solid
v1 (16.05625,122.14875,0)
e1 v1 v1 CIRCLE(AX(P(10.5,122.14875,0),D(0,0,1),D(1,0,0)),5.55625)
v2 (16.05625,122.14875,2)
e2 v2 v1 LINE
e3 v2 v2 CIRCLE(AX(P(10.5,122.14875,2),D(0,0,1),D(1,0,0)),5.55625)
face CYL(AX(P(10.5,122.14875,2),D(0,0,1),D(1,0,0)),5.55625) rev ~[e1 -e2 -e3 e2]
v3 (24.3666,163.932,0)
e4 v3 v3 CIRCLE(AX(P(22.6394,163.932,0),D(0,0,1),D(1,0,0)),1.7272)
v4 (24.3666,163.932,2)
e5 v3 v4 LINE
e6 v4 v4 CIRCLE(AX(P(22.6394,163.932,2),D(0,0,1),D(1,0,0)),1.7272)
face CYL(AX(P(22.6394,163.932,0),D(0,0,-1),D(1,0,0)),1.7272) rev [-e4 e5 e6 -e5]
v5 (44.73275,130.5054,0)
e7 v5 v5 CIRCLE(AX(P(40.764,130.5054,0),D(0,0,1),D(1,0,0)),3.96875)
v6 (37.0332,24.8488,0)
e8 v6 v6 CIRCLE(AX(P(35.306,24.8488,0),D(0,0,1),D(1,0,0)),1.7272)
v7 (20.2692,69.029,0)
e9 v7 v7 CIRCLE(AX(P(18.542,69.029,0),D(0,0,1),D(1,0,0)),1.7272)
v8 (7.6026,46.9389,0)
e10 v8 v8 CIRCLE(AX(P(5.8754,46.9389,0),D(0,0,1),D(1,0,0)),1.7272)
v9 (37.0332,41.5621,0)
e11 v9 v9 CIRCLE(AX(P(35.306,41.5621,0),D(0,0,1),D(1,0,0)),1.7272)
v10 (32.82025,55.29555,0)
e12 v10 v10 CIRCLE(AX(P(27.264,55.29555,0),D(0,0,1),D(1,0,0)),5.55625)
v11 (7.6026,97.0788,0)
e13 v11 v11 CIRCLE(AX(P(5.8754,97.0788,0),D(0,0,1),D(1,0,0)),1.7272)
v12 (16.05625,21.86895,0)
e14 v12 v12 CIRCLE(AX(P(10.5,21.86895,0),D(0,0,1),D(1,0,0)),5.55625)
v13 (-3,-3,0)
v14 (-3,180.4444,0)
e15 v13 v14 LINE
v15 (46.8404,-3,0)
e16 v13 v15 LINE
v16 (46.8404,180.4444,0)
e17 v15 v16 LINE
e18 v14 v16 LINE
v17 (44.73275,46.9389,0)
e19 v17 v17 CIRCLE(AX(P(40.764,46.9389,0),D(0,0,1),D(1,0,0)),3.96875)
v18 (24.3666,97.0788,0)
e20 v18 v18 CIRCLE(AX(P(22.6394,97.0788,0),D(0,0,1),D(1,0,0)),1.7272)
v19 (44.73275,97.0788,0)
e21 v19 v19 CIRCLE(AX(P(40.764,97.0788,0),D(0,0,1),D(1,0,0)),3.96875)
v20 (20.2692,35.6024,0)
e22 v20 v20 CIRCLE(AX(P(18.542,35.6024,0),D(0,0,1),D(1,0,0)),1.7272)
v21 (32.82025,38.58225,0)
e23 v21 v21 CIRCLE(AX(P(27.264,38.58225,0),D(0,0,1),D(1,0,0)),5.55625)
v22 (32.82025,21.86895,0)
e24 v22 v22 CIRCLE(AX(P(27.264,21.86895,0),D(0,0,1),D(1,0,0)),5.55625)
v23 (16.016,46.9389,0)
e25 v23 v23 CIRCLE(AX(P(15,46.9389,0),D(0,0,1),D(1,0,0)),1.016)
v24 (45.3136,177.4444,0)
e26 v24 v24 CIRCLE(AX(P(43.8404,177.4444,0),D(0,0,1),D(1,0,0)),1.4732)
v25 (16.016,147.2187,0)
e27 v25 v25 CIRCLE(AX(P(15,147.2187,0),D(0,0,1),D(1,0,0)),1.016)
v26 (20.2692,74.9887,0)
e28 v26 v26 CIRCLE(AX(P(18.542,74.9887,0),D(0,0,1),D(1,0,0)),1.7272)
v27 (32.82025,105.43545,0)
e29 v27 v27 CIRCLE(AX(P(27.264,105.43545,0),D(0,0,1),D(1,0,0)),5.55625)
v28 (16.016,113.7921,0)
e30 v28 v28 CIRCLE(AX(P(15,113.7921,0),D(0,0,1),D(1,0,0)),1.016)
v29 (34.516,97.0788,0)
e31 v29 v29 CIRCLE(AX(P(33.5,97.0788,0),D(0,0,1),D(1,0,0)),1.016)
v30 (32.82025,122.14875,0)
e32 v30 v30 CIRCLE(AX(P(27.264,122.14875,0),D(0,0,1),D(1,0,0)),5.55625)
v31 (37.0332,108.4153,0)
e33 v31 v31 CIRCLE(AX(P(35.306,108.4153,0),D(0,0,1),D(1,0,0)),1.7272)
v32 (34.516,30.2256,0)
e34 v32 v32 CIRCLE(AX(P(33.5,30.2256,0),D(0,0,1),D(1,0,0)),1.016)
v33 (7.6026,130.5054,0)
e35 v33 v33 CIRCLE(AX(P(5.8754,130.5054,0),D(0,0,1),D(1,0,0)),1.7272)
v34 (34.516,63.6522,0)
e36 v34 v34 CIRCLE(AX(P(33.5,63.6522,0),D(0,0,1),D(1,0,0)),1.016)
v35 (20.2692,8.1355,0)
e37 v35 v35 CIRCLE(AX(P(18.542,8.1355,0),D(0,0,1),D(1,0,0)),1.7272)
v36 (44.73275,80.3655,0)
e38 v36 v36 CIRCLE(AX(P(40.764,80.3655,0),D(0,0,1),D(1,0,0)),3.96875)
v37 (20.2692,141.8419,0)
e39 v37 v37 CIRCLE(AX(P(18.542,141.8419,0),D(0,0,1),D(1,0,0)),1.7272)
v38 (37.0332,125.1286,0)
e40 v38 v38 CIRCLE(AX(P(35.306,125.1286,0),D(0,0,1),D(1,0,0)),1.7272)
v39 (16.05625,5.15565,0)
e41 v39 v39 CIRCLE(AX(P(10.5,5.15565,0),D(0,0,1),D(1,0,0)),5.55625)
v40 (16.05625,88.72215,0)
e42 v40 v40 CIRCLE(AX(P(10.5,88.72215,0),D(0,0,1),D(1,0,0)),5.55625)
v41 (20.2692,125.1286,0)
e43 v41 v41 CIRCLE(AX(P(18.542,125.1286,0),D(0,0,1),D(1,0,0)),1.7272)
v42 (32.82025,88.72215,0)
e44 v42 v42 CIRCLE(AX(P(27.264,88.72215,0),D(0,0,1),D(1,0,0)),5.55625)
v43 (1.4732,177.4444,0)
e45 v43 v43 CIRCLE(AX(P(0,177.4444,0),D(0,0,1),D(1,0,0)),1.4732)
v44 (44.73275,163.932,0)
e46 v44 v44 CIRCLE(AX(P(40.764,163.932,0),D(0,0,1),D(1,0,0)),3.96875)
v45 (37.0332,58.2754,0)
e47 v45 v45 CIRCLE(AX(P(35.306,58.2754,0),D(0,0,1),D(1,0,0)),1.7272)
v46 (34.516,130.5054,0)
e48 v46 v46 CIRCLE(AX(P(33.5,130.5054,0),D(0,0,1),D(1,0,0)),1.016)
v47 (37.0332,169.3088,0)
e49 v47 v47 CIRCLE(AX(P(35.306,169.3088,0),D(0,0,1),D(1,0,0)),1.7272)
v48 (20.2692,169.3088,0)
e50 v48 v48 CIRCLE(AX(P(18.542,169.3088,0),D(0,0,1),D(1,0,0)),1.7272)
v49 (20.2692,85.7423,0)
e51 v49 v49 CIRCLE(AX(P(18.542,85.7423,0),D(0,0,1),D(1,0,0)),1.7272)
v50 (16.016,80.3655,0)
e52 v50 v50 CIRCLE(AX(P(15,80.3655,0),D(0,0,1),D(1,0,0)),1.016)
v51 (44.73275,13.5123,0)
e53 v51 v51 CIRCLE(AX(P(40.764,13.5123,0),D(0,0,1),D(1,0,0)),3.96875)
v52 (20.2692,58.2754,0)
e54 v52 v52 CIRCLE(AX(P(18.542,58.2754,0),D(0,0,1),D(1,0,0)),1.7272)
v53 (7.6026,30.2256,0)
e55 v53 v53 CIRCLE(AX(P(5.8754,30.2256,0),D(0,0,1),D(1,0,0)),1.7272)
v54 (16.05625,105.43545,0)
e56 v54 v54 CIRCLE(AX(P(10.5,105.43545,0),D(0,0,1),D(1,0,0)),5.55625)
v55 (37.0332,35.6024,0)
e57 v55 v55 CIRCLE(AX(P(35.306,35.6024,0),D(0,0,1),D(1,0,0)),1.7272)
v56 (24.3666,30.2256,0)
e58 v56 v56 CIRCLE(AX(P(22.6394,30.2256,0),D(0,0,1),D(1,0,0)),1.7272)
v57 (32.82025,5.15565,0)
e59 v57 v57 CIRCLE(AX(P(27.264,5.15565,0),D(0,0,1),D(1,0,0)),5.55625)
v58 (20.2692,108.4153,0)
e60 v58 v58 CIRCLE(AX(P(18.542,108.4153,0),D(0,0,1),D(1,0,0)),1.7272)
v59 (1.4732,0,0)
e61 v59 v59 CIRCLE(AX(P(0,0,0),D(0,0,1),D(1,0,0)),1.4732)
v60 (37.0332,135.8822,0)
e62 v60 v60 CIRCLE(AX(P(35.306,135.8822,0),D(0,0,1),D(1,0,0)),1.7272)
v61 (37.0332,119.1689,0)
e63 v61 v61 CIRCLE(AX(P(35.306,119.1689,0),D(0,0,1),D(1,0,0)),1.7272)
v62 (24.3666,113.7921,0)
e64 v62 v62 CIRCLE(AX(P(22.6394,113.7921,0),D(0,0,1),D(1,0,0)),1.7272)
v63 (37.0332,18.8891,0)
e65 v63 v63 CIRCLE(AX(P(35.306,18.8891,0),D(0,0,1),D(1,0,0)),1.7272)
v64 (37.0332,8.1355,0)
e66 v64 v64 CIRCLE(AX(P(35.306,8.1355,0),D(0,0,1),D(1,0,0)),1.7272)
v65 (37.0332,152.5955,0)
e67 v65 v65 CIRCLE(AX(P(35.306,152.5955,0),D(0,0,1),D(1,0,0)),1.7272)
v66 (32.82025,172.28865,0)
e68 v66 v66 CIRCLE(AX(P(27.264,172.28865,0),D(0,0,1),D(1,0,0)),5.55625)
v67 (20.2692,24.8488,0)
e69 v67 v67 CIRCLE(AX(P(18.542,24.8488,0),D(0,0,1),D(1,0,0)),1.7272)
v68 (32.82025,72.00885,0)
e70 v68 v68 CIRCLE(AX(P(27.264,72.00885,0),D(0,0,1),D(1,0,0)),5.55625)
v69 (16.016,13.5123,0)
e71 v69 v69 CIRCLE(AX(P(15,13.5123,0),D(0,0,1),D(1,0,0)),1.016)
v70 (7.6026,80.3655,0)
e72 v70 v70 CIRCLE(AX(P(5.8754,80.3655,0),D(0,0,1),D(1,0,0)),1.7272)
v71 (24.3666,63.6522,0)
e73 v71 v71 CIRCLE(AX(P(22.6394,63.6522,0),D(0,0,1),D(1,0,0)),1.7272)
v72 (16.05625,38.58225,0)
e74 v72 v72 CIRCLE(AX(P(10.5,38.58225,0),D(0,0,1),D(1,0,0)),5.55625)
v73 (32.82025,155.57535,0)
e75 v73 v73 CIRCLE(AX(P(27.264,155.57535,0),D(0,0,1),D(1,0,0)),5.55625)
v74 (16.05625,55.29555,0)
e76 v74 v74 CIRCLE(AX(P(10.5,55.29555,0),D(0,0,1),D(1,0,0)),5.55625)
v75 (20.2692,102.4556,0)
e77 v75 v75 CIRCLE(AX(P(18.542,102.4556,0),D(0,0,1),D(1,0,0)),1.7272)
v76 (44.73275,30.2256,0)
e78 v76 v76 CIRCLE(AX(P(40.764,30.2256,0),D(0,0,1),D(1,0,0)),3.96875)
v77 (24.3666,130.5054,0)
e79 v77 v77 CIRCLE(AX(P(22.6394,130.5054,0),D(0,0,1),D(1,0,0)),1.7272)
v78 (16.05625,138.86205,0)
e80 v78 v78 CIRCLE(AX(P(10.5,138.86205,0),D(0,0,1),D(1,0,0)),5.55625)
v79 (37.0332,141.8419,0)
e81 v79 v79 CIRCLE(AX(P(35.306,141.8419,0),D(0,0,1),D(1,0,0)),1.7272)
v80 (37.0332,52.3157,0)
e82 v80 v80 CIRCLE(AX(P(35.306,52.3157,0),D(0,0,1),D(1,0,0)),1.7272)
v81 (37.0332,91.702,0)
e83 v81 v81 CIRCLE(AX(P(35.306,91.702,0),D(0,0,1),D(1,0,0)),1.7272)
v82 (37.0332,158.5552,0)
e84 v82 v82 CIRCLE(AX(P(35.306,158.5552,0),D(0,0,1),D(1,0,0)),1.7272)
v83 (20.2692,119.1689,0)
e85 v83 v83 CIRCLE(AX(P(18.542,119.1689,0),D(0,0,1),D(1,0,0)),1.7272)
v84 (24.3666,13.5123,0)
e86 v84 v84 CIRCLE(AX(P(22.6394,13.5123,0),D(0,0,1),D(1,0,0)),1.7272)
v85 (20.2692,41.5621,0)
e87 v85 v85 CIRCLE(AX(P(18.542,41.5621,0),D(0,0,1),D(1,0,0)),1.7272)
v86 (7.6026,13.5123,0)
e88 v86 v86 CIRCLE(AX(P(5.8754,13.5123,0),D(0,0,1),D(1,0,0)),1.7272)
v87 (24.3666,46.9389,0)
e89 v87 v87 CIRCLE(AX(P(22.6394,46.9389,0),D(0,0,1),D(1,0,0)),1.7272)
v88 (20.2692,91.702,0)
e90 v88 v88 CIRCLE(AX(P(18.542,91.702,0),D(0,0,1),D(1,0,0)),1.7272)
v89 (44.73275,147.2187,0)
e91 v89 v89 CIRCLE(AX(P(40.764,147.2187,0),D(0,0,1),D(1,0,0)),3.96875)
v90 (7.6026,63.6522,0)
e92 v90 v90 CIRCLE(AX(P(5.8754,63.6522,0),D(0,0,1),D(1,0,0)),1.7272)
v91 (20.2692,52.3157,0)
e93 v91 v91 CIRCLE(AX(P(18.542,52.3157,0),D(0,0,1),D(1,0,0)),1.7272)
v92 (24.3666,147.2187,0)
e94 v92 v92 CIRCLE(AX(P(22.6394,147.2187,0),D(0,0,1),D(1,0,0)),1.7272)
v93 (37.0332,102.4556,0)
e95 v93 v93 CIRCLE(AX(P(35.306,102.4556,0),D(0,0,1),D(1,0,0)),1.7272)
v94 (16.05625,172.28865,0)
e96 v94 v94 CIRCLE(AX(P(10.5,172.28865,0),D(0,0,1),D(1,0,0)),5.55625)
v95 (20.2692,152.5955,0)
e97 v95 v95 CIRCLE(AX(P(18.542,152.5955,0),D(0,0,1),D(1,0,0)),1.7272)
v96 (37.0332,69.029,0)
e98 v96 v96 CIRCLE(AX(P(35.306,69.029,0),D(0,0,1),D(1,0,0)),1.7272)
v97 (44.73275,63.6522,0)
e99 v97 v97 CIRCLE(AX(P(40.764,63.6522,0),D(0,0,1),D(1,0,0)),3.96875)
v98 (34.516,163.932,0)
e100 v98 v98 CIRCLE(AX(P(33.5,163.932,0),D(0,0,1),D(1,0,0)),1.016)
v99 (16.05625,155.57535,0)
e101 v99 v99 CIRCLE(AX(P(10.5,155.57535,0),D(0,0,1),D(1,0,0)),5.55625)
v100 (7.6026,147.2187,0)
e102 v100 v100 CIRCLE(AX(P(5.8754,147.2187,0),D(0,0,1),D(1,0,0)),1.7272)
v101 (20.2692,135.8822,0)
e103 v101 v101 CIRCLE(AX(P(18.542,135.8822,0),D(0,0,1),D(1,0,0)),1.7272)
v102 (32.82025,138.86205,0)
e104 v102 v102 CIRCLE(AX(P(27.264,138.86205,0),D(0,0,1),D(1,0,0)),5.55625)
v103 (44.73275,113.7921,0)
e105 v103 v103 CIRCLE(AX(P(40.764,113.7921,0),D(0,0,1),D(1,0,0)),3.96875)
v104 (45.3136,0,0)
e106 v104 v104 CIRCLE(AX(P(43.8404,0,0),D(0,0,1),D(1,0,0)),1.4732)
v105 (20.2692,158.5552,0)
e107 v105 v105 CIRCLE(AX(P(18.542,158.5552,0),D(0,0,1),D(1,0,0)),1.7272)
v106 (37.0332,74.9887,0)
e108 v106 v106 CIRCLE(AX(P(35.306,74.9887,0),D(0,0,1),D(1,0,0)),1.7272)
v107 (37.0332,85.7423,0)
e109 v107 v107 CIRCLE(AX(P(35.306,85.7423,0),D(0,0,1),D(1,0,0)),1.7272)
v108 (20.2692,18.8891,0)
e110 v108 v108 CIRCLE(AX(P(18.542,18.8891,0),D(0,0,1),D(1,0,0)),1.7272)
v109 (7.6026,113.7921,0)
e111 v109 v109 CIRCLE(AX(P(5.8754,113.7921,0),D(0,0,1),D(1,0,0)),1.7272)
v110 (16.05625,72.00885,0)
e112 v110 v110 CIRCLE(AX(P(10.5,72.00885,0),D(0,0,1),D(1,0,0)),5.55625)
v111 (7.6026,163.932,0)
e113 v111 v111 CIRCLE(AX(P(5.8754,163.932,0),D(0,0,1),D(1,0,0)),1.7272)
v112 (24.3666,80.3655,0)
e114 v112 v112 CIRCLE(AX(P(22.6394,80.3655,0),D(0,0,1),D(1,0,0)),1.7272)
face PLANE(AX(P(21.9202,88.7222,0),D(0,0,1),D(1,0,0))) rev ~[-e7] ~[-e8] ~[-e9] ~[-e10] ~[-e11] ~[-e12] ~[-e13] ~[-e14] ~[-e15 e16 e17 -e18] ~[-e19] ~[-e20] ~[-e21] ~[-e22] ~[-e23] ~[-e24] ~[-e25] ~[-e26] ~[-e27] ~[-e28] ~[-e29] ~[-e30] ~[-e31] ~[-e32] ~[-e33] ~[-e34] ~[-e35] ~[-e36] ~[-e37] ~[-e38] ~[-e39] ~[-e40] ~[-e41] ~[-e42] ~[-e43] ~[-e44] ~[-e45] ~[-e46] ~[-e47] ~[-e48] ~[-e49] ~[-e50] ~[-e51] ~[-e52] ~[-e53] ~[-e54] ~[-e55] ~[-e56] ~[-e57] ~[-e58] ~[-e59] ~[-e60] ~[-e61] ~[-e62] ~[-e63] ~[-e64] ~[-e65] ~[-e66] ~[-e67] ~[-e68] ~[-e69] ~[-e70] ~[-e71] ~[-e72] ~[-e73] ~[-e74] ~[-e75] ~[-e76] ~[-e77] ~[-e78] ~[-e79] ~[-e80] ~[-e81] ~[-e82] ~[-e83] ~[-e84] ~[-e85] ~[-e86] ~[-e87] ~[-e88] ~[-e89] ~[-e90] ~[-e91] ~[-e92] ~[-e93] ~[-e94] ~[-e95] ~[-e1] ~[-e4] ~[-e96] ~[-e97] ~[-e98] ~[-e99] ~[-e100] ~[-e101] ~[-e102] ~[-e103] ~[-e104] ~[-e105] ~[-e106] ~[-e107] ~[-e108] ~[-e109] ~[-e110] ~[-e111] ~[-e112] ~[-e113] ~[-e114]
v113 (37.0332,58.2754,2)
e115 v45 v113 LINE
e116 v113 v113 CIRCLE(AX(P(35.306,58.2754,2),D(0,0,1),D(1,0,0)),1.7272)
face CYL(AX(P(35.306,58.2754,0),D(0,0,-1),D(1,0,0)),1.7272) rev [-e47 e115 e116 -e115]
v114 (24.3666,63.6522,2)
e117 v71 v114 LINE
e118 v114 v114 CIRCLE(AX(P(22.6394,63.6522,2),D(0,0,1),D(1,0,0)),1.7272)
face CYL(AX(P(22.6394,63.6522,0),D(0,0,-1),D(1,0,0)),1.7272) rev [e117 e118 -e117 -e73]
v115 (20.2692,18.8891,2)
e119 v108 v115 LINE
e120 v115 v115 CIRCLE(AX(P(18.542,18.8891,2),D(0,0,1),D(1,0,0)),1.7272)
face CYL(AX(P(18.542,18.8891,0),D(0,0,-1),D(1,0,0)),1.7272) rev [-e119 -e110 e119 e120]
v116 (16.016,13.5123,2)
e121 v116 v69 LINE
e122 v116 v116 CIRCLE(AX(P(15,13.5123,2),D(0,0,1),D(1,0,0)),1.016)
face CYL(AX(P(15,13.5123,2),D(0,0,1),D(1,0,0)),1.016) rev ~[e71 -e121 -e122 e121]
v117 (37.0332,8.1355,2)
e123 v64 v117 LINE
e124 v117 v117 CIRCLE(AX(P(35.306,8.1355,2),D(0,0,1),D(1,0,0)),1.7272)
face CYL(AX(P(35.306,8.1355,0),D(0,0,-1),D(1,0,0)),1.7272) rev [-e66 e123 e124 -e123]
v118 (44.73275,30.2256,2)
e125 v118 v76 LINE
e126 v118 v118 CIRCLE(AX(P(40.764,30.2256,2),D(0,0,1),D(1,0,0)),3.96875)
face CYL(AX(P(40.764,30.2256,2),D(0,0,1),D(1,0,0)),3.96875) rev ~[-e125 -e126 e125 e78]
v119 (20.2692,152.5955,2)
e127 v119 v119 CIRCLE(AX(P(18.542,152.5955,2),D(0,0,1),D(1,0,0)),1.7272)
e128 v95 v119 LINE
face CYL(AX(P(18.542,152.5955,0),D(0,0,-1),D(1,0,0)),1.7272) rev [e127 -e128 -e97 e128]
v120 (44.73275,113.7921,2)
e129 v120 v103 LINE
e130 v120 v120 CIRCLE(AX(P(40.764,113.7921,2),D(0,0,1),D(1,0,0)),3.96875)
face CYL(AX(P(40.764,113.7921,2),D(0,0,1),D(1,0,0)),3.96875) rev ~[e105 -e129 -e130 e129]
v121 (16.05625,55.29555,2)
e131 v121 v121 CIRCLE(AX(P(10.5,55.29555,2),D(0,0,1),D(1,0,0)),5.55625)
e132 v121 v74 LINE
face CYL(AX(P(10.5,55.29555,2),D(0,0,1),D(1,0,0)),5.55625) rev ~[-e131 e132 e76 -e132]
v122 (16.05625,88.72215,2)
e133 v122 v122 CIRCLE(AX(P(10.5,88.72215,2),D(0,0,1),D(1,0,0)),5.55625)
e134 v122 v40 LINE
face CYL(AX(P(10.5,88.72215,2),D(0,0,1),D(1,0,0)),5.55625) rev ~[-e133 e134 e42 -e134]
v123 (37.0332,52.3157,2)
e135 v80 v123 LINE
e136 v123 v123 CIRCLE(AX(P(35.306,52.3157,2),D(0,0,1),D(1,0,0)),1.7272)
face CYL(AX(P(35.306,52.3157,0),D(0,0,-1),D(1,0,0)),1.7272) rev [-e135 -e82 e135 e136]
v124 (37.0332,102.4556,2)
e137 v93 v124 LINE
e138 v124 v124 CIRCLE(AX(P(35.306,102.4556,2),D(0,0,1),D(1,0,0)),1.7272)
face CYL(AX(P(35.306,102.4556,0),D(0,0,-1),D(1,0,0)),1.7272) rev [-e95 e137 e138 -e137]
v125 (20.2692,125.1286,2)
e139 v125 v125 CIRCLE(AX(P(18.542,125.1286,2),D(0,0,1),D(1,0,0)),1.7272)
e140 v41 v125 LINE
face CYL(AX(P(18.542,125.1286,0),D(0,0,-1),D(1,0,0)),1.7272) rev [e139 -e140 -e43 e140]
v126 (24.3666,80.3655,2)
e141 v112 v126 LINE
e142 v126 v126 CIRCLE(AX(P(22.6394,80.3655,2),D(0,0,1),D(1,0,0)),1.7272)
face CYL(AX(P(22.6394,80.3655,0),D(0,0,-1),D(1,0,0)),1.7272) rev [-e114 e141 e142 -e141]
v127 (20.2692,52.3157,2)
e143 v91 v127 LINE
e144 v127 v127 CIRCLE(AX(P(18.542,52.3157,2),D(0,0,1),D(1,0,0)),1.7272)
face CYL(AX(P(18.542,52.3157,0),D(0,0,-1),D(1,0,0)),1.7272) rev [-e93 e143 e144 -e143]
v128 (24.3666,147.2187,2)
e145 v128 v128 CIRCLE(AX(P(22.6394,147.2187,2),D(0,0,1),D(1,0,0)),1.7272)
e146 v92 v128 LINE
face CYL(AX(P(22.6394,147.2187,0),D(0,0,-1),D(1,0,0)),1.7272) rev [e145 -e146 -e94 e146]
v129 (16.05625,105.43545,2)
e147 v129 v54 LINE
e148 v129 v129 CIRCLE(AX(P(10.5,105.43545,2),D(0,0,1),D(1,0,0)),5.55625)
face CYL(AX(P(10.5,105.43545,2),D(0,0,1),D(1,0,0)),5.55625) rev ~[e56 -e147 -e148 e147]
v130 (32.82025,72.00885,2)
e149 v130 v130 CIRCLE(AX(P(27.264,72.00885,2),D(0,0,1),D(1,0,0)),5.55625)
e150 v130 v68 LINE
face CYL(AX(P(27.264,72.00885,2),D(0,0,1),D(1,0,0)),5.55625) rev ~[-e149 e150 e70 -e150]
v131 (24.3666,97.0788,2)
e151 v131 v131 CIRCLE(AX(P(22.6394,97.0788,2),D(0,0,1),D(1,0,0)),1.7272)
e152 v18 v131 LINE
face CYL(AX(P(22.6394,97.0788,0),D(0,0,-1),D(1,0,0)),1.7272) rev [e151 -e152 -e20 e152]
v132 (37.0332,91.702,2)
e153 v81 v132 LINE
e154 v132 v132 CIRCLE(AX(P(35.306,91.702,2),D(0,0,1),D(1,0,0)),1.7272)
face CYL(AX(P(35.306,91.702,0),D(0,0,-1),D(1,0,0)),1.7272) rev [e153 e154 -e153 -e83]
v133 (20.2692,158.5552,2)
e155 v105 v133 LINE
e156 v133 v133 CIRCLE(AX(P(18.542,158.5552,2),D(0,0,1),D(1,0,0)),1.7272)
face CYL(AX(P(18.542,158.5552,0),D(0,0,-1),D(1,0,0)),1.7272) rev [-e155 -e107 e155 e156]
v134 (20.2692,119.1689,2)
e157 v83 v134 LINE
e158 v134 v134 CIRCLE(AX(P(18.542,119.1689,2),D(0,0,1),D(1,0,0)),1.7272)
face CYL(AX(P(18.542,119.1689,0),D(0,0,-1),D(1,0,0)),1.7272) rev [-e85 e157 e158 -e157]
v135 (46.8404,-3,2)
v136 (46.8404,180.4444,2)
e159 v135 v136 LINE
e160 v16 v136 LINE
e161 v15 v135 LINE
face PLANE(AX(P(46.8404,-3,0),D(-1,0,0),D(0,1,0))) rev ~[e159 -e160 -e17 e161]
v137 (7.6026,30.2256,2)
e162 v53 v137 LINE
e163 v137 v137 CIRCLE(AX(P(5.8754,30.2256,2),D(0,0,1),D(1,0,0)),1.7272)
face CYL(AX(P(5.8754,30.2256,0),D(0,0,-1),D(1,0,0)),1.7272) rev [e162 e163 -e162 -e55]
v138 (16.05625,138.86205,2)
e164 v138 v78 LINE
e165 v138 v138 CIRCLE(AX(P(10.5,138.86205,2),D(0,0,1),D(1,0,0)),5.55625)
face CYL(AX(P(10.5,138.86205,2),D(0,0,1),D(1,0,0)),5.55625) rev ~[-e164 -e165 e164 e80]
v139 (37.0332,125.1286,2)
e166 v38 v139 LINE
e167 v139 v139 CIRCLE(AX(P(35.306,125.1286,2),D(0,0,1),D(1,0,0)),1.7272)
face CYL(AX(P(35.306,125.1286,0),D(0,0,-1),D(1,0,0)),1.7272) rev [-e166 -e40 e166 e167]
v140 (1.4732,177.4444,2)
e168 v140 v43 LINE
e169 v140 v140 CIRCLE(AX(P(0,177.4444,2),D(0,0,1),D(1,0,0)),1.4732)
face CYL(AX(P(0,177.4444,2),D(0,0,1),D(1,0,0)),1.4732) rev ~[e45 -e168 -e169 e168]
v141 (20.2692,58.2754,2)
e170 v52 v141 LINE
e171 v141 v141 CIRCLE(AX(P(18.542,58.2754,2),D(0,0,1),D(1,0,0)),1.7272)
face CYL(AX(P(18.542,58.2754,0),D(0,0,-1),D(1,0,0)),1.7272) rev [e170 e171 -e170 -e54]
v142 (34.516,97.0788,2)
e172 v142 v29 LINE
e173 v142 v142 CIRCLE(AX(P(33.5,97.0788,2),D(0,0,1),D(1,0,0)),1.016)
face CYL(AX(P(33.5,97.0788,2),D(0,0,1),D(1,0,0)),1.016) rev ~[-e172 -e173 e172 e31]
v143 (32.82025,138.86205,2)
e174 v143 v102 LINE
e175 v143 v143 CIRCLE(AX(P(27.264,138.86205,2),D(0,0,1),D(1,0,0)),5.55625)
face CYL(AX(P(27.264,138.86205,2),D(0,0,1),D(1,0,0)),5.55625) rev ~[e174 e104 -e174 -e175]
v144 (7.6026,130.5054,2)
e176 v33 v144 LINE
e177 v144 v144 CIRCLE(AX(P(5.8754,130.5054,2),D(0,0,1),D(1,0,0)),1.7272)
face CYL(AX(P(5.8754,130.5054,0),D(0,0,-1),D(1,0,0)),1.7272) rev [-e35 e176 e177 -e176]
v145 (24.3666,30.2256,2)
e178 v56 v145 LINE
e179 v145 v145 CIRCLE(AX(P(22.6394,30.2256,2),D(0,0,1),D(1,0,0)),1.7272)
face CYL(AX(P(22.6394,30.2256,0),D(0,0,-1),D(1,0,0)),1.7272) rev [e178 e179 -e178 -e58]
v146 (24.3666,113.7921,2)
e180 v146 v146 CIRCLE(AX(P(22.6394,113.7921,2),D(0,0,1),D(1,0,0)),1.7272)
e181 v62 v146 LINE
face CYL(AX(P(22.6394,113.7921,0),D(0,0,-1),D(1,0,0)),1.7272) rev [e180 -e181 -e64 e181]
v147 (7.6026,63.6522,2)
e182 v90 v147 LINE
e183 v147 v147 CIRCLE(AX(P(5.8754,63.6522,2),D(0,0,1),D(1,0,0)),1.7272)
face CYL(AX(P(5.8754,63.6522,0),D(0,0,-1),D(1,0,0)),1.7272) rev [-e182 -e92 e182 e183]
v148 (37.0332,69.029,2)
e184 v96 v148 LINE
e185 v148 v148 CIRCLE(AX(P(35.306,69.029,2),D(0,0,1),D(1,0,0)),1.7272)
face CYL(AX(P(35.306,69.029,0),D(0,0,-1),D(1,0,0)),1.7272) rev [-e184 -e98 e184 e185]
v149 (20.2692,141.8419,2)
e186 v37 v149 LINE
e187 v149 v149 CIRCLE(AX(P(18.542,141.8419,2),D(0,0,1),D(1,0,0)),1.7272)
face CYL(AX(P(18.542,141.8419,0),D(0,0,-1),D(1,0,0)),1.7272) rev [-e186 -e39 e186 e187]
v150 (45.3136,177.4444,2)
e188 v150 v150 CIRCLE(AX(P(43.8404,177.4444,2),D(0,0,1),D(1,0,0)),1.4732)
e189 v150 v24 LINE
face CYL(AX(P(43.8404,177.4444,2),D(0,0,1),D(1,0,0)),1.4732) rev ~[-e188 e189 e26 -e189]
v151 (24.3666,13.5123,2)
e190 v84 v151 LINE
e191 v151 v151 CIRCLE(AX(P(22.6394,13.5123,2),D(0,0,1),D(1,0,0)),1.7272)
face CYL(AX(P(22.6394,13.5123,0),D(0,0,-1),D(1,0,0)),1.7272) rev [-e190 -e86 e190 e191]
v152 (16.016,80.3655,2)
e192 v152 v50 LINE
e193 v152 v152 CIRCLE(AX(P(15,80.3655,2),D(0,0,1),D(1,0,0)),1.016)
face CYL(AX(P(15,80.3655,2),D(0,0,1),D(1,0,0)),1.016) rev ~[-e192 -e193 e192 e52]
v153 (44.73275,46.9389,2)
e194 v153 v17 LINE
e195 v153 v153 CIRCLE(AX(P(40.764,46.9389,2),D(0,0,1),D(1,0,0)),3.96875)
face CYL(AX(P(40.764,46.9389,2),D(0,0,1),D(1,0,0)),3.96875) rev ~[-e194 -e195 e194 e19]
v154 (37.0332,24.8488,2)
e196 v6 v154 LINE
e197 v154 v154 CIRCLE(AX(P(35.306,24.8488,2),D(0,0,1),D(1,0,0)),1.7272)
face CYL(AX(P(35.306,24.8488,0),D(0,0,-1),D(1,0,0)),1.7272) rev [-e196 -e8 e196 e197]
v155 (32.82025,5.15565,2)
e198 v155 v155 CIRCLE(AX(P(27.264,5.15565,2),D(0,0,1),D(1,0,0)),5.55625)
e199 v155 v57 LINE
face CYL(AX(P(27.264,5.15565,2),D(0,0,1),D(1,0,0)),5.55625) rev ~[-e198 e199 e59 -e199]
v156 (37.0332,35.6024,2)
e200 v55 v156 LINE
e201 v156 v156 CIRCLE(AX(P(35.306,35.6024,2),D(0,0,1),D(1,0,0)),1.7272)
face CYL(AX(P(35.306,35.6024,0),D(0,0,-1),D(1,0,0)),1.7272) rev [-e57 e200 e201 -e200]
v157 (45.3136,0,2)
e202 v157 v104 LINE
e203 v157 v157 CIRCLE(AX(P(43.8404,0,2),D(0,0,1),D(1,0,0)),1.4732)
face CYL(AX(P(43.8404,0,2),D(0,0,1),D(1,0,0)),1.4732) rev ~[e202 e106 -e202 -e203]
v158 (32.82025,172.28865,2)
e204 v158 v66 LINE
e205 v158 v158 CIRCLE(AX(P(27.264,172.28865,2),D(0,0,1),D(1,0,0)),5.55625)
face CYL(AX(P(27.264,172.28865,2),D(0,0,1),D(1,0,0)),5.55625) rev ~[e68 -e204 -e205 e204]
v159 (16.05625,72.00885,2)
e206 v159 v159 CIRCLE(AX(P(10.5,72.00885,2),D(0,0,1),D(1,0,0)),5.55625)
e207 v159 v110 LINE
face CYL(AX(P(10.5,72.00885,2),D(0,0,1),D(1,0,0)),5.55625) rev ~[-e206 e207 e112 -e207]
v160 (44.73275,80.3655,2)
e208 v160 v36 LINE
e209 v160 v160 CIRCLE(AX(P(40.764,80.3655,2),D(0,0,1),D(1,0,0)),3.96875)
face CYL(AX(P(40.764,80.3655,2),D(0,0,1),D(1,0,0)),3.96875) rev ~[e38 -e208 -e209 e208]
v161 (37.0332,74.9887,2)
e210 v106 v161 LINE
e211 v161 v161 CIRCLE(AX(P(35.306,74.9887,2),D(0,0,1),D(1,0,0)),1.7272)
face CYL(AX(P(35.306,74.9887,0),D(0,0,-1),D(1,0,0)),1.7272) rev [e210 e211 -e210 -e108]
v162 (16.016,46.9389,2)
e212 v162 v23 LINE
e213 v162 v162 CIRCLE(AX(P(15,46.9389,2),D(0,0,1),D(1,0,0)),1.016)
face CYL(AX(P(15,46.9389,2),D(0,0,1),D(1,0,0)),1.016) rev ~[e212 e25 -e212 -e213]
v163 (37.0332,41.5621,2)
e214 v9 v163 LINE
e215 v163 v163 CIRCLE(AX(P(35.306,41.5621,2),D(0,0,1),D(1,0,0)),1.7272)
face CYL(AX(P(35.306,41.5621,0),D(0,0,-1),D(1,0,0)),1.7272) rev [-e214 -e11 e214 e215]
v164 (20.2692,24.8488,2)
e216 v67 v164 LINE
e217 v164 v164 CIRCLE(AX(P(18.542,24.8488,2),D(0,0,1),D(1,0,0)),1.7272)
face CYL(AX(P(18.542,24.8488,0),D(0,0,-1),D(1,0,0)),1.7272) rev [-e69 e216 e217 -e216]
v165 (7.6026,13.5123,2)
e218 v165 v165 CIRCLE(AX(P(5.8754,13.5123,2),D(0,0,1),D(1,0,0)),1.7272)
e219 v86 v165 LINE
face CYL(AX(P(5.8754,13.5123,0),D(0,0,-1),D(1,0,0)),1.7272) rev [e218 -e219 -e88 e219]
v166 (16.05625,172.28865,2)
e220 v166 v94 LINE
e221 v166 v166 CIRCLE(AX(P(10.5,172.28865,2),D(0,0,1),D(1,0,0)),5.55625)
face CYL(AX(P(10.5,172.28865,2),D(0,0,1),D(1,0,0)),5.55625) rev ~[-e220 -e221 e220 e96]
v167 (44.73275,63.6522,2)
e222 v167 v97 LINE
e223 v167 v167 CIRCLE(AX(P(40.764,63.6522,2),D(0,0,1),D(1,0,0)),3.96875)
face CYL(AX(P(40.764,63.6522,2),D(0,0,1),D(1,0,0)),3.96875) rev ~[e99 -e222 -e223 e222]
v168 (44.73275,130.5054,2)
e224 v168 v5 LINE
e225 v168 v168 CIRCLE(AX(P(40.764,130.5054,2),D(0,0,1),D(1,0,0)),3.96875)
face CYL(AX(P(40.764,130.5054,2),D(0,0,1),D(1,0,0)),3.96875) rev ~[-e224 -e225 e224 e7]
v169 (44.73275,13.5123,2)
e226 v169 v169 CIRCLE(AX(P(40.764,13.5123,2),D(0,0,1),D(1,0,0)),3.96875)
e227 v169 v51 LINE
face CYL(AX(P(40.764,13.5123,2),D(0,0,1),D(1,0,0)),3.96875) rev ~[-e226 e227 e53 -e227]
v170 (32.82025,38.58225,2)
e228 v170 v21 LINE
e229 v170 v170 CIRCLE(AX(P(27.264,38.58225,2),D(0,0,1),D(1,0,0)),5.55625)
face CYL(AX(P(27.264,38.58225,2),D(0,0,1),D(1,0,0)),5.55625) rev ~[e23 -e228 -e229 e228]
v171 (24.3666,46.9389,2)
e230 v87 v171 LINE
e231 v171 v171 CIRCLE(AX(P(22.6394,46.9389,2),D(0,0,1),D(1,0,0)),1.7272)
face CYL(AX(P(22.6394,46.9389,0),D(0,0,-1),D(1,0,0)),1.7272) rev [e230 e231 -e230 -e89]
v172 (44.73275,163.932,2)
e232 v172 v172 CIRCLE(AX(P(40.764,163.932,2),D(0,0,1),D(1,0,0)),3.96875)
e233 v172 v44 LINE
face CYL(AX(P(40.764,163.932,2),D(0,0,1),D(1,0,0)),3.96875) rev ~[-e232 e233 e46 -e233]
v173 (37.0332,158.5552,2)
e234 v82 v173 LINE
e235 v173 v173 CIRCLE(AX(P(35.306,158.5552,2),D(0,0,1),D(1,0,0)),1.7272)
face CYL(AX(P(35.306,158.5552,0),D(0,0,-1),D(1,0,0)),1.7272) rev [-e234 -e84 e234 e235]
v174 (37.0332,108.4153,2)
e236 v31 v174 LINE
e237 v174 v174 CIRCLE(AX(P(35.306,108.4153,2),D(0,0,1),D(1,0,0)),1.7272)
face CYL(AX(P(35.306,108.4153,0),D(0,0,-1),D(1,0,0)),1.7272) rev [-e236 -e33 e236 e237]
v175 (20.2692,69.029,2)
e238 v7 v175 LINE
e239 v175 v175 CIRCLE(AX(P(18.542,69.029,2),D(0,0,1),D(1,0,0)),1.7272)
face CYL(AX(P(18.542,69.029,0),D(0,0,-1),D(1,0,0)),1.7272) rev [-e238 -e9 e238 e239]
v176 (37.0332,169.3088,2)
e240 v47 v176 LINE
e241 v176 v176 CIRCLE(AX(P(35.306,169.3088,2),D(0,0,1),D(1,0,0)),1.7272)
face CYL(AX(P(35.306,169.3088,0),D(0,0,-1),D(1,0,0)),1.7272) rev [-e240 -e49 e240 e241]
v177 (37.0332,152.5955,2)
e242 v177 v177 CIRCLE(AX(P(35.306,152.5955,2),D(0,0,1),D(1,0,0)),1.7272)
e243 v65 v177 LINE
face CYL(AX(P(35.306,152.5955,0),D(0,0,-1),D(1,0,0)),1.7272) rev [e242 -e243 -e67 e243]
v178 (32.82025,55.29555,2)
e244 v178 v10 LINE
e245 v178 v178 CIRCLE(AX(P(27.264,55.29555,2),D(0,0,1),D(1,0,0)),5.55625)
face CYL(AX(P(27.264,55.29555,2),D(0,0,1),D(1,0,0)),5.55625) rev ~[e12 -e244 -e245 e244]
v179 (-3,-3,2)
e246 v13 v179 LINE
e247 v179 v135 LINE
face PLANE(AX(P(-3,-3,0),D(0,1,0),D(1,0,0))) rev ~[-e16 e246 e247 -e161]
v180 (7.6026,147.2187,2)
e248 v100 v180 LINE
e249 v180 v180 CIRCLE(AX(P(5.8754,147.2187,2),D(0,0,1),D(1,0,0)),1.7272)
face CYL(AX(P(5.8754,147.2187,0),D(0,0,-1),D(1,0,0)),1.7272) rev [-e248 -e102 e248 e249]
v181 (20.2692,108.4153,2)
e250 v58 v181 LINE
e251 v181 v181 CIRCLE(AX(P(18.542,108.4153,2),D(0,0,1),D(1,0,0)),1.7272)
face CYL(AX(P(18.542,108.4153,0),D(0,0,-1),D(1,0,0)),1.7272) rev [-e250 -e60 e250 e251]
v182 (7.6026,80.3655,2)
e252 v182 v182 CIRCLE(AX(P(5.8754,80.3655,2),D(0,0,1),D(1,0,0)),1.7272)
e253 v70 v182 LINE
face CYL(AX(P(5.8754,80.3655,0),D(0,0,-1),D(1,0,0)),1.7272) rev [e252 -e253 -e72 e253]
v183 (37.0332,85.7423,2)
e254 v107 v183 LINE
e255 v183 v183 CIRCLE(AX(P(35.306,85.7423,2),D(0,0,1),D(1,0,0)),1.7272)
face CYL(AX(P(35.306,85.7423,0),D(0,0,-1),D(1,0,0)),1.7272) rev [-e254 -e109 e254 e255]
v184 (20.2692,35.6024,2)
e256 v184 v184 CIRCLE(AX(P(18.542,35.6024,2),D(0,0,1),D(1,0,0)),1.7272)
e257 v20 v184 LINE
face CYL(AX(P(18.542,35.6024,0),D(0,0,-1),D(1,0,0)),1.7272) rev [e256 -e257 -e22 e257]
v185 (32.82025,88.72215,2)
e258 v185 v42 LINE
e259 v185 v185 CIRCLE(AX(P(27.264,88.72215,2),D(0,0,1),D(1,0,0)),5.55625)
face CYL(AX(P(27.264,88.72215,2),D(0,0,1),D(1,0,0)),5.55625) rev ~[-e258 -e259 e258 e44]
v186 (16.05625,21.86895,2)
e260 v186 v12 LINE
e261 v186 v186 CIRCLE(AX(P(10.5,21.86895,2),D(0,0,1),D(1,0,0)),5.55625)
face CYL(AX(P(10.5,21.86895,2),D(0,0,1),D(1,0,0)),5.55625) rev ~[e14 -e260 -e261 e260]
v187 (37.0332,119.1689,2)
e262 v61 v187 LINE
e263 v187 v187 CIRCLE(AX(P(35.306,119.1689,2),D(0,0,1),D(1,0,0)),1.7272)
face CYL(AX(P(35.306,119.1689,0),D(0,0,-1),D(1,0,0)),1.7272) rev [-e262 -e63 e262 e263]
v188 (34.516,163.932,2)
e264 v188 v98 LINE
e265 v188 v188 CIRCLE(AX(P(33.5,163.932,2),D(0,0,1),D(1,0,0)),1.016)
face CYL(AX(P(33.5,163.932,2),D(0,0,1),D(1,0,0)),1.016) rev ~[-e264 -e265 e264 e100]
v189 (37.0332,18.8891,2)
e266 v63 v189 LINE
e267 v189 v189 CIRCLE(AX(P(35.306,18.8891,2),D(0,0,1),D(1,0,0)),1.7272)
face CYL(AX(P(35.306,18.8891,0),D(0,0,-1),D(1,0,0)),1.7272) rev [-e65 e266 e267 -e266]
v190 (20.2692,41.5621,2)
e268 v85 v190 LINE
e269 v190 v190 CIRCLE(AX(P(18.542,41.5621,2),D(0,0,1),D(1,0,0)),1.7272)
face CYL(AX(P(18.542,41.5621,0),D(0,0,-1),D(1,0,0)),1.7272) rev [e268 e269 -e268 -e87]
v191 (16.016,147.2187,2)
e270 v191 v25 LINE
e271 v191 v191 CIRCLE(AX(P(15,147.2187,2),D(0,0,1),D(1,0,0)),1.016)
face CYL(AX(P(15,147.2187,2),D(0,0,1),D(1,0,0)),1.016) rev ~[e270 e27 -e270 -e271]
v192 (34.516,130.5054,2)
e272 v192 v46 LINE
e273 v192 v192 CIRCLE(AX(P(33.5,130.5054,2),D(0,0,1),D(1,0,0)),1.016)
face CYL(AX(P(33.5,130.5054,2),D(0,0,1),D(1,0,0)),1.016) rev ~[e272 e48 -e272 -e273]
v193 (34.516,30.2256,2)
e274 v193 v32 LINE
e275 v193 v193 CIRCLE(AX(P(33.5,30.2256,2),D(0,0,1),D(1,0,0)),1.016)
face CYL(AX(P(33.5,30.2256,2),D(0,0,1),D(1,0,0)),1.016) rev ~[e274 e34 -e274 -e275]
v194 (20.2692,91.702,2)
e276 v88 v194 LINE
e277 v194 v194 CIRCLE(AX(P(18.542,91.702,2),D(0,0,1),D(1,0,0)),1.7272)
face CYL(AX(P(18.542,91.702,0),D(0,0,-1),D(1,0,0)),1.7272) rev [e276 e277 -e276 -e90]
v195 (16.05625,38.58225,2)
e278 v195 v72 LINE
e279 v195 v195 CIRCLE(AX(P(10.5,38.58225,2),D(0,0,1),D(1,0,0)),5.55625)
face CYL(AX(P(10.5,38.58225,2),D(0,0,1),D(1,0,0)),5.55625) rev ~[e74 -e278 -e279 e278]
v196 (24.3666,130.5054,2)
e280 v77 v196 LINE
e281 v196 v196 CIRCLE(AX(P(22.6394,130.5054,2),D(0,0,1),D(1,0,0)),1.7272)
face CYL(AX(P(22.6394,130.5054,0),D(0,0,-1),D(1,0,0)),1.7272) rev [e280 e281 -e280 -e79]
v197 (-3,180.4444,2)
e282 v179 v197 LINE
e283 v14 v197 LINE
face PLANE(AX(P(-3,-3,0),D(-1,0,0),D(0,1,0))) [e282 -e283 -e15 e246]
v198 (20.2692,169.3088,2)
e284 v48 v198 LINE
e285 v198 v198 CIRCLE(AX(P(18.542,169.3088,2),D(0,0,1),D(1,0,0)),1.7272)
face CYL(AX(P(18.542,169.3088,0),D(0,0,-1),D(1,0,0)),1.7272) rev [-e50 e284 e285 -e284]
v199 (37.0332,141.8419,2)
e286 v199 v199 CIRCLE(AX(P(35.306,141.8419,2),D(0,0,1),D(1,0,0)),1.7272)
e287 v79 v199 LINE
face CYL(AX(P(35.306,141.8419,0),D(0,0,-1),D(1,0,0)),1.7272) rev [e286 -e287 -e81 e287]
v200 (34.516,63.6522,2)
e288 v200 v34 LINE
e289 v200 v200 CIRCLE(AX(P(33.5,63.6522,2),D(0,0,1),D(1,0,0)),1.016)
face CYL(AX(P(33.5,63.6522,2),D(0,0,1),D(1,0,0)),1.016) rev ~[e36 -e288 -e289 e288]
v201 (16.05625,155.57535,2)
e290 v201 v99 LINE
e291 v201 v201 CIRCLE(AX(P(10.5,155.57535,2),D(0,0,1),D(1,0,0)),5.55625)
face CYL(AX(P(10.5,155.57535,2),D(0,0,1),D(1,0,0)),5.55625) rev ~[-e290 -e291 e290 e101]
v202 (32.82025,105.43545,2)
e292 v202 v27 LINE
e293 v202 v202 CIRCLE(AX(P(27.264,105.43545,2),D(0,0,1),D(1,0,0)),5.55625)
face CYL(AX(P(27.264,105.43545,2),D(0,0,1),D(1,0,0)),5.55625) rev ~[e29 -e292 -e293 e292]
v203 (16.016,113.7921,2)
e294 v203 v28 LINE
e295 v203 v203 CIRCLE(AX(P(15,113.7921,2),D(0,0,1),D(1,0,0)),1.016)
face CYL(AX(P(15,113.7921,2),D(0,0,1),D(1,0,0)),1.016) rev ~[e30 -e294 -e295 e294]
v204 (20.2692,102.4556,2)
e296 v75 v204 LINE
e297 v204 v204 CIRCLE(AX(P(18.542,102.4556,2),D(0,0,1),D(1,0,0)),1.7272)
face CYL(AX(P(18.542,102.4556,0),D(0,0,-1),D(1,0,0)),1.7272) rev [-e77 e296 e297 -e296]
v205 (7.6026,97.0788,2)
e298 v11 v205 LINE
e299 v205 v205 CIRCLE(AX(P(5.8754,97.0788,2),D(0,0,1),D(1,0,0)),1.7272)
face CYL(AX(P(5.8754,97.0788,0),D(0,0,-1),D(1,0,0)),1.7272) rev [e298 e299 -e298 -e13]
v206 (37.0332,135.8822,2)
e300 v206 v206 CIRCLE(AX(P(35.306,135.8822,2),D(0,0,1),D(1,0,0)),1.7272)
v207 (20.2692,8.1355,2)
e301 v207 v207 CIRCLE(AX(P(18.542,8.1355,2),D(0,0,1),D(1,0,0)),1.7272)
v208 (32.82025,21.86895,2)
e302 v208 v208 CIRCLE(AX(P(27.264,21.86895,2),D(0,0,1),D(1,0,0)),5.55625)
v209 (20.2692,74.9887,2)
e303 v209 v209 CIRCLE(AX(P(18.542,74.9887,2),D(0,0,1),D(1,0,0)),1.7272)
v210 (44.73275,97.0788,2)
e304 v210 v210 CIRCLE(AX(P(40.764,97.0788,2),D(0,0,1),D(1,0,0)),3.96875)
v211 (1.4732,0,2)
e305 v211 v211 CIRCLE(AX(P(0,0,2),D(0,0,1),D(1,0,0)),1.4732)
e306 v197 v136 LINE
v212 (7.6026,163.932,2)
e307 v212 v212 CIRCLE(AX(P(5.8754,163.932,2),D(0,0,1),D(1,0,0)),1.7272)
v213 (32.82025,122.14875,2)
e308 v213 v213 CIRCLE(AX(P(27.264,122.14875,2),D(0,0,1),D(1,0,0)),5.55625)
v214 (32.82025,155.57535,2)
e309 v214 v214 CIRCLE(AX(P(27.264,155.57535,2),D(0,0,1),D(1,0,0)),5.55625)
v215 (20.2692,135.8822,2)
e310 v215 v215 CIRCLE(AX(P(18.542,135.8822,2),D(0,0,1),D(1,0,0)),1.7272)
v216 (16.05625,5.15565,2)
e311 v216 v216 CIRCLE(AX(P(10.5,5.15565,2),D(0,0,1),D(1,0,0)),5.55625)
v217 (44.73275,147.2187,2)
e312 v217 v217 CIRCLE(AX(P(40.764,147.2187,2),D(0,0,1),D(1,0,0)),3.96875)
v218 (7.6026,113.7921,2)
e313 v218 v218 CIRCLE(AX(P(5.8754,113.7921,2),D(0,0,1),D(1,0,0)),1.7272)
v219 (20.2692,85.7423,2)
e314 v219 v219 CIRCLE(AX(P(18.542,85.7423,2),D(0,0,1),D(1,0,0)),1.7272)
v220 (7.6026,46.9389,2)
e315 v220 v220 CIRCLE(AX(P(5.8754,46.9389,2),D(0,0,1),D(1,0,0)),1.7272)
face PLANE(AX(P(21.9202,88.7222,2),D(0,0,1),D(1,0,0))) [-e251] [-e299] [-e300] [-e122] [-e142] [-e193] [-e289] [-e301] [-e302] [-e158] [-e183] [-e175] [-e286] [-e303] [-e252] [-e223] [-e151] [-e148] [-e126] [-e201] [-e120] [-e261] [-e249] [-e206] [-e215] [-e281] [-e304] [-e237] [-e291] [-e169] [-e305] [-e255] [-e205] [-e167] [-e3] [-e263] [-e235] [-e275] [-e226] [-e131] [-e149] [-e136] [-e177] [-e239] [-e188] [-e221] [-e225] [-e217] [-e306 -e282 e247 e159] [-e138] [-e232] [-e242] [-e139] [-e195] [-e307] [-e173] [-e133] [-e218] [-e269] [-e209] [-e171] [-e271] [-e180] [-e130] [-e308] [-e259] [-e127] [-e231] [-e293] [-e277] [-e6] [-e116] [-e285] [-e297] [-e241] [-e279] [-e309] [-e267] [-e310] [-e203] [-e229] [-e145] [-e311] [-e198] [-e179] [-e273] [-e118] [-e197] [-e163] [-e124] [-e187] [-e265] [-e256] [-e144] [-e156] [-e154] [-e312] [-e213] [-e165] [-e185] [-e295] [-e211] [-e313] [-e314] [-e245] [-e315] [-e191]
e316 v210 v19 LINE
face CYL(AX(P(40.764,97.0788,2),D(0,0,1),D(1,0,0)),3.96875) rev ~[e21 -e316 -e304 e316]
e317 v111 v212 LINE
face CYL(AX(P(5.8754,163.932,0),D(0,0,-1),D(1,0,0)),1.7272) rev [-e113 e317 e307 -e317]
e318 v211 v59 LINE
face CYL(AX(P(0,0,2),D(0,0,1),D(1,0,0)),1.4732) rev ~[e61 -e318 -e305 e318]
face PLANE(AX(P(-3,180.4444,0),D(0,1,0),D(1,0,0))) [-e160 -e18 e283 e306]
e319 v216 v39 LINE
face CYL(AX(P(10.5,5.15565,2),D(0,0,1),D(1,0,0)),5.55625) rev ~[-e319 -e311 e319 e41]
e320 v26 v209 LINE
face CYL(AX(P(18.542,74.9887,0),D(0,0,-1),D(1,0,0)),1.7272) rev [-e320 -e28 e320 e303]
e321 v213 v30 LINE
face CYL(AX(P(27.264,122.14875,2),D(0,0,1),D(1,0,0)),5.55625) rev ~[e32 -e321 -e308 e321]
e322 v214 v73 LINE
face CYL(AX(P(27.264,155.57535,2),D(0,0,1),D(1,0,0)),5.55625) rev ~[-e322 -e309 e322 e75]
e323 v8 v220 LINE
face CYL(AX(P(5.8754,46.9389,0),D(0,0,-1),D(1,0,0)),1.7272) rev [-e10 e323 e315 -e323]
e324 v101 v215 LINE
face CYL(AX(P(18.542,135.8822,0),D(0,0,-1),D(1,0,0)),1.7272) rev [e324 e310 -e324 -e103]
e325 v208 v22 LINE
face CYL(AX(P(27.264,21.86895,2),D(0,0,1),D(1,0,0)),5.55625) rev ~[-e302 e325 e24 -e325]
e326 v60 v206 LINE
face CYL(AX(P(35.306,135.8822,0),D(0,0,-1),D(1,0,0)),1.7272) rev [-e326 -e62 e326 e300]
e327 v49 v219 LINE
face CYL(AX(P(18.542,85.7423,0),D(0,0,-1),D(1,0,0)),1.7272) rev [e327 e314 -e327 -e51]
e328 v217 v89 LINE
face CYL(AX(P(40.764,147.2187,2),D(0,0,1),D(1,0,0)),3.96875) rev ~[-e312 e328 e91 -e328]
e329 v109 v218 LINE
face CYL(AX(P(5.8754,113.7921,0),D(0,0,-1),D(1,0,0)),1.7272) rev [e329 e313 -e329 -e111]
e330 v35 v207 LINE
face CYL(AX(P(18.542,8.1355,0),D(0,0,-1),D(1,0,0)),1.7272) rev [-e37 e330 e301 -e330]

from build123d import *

# Parameters (mm, degrees)
F0_W     = 49.8404
F0_H     = 183.4444
F0_R     = 1.7272
F1_DEPTH = 2
F2_R     = 5.55625
F2_R_2   = 3.96875
F2_R_3   = 1.4732
F2_R_4   = 1.016
F3_DEPTH = 25


with BuildPart() as f1:
    # F0 (on Top) → F1 (new body)
    with BuildSketch(Plane.XY):
        with Locations((21.9202, 88.7222)):
            Rectangle(F0_W, F0_H)
        with Locations((5.8754, 13.5123)):
            Circle(F0_R, mode=Mode.SUBTRACT)
        with Locations((5.8754, 30.2256)):
            Circle(F0_R, mode=Mode.SUBTRACT)
        with Locations((18.542, 8.1355)):
            Circle(F0_R, mode=Mode.SUBTRACT)
        with Locations((18.542, 18.8891)):
            Circle(F0_R, mode=Mode.SUBTRACT)
        with Locations((18.542, 24.8488)):
            Circle(F0_R, mode=Mode.SUBTRACT)
        with Locations((18.542, 35.6024)):
            Circle(F0_R, mode=Mode.SUBTRACT)
        with Locations((18.542, 41.5621)):
            Circle(F0_R, mode=Mode.SUBTRACT)
        with Locations((5.8754, 46.9389)):
            Circle(F0_R, mode=Mode.SUBTRACT)
        with Locations((5.8754, 63.6522)):
            Circle(F0_R, mode=Mode.SUBTRACT)
        with Locations((5.8754, 80.3655)):
            Circle(F0_R, mode=Mode.SUBTRACT)
        with Locations((18.542, 52.3157)):
            Circle(F0_R, mode=Mode.SUBTRACT)
        with Locations((18.542, 58.2754)):
            Circle(F0_R, mode=Mode.SUBTRACT)
        with Locations((18.542, 69.029)):
            Circle(F0_R, mode=Mode.SUBTRACT)
        with Locations((18.542, 74.9887)):
            Circle(F0_R, mode=Mode.SUBTRACT)
        with Locations((18.542, 85.7423)):
            Circle(F0_R, mode=Mode.SUBTRACT)
        with Locations((22.6394, 13.5123)):
            Circle(F0_R, mode=Mode.SUBTRACT)
        with Locations((22.6394, 30.2256)):
            Circle(F0_R, mode=Mode.SUBTRACT)
        with Locations((35.306, 8.1355)):
            Circle(F0_R, mode=Mode.SUBTRACT)
        with Locations((35.306, 18.8891)):
            Circle(F0_R, mode=Mode.SUBTRACT)
        with Locations((35.306, 24.8488)):
            Circle(F0_R, mode=Mode.SUBTRACT)
        with Locations((35.306, 35.6024)):
            Circle(F0_R, mode=Mode.SUBTRACT)
        with Locations((35.306, 41.5621)):
            Circle(F0_R, mode=Mode.SUBTRACT)
        with Locations((22.6394, 46.9389)):
            Circle(F0_R, mode=Mode.SUBTRACT)
        with Locations((22.6394, 63.6522)):
            Circle(F0_R, mode=Mode.SUBTRACT)
        with Locations((22.6394, 80.3655)):
            Circle(F0_R, mode=Mode.SUBTRACT)
        with Locations((35.306, 52.3157)):
            Circle(F0_R, mode=Mode.SUBTRACT)
        with Locations((35.306, 58.2754)):
            Circle(F0_R, mode=Mode.SUBTRACT)
        with Locations((35.306, 69.029)):
            Circle(F0_R, mode=Mode.SUBTRACT)
        with Locations((35.306, 74.9887)):
            Circle(F0_R, mode=Mode.SUBTRACT)
        with Locations((35.306, 85.7423)):
            Circle(F0_R, mode=Mode.SUBTRACT)
        with Locations((5.8754, 97.0788)):
            Circle(F0_R, mode=Mode.SUBTRACT)
        with Locations((5.8754, 113.7921)):
            Circle(F0_R, mode=Mode.SUBTRACT)
        with Locations((5.8754, 130.5054)):
            Circle(F0_R, mode=Mode.SUBTRACT)
        with Locations((18.542, 91.702)):
            Circle(F0_R, mode=Mode.SUBTRACT)
        with Locations((18.542, 102.4556)):
            Circle(F0_R, mode=Mode.SUBTRACT)
        with Locations((18.542, 108.4153)):
            Circle(F0_R, mode=Mode.SUBTRACT)
        with Locations((18.542, 119.1689)):
            Circle(F0_R, mode=Mode.SUBTRACT)
        with Locations((18.542, 125.1286)):
            Circle(F0_R, mode=Mode.SUBTRACT)
        with Locations((5.8754, 147.2187)):
            Circle(F0_R, mode=Mode.SUBTRACT)
        with Locations((5.8754, 163.932)):
            Circle(F0_R, mode=Mode.SUBTRACT)
        with Locations((18.542, 135.8822)):
            Circle(F0_R, mode=Mode.SUBTRACT)
        with Locations((18.542, 141.8419)):
            Circle(F0_R, mode=Mode.SUBTRACT)
        with Locations((18.542, 152.5955)):
            Circle(F0_R, mode=Mode.SUBTRACT)
        with Locations((18.542, 158.5552)):
            Circle(F0_R, mode=Mode.SUBTRACT)
        with Locations((18.542, 169.3088)):
            Circle(F0_R, mode=Mode.SUBTRACT)
        with Locations((22.6394, 97.0788)):
            Circle(F0_R, mode=Mode.SUBTRACT)
        with Locations((22.6394, 113.7921)):
            Circle(F0_R, mode=Mode.SUBTRACT)
        with Locations((22.6394, 130.5054)):
            Circle(F0_R, mode=Mode.SUBTRACT)
        with Locations((35.306, 91.702)):
            Circle(F0_R, mode=Mode.SUBTRACT)
        with Locations((35.306, 102.4556)):
            Circle(F0_R, mode=Mode.SUBTRACT)
        with Locations((35.306, 108.4153)):
            Circle(F0_R, mode=Mode.SUBTRACT)
        with Locations((35.306, 119.1689)):
            Circle(F0_R, mode=Mode.SUBTRACT)
        with Locations((35.306, 125.1286)):
            Circle(F0_R, mode=Mode.SUBTRACT)
        with Locations((22.6394, 147.2187)):
            Circle(F0_R, mode=Mode.SUBTRACT)
        with Locations((22.6394, 163.932)):
            Circle(F0_R, mode=Mode.SUBTRACT)
        with Locations((35.306, 135.8822)):
            Circle(F0_R, mode=Mode.SUBTRACT)
        with Locations((35.306, 141.8419)):
            Circle(F0_R, mode=Mode.SUBTRACT)
        with Locations((35.306, 152.5955)):
            Circle(F0_R, mode=Mode.SUBTRACT)
        with Locations((35.306, 158.5552)):
            Circle(F0_R, mode=Mode.SUBTRACT)
        with Locations((35.306, 169.3088)):
            Circle(F0_R, mode=Mode.SUBTRACT)
    extrude(amount=F1_DEPTH)

    # F2 (on face) → F3 (cut)
    with BuildSketch(Plane.XY.offset(2)):
        with Locations((10.5, 21.86895)):
            Circle(F2_R)
        with Locations((40.764, 113.7921)):
            Circle(F2_R_2)
        with Locations((10.5, 138.86205)):
            Circle(F2_R)
        with Locations((27.264, 155.57535)):
            Circle(F2_R)
        with Locations((40.764, 97.0788)):
            Circle(F2_R_2)
        with Locations((27.264, 122.14875)):
            Circle(F2_R)
        with Locations((27.264, 38.58225)):
            Circle(F2_R)
        with Locations((10.5, 155.57535)):
            Circle(F2_R)
        with Locations((40.764, 147.2187)):
            Circle(F2_R_2)
        with Locations((10.5, 105.43545)):
            Circle(F2_R)
        with Locations((27.264, 105.43545)):
            Circle(F2_R)
        with Locations((10.5, 88.72215)):
            Circle(F2_R)
        with Locations((27.264, 88.72215)):
            Circle(F2_R)
        with Locations((10.5, 122.14875)):
            Circle(F2_R)
        with Locations((40.764, 130.5054)):
            Circle(F2_R_2)
        with Locations((27.264, 172.28865)):
            Circle(F2_R)
        with Locations((10.5, 5.15565)):
            Circle(F2_R)
        with Locations((27.264, 5.15565)):
            Circle(F2_R)
        with Locations((27.264, 21.86895)):
            Circle(F2_R)
        with Locations((40.764, 13.5123)):
            Circle(F2_R_2)
        with Locations((27.264, 55.29555)):
            Circle(F2_R)
        with Locations((40.764, 46.9389)):
            Circle(F2_R_2)
        with Locations((10.5, 38.58225)):
            Circle(F2_R)
        with Locations((40.764, 30.2256)):
            Circle(F2_R_2)
        with Locations((40.764, 63.6522)):
            Circle(F2_R_2)
        with Locations((10.5, 172.28865)):
            Circle(F2_R)
        with Locations((27.264, 72.00885)):
            Circle(F2_R)
        with Locations((10.5, 55.29555)):
            Circle(F2_R)
        with Locations((40.764, 80.3655)):
            Circle(F2_R_2)
        with Locations((27.264, 138.86205)):
            Circle(F2_R)
        with Locations((10.5, 72.00885)):
            Circle(F2_R)
        with Locations((40.764, 163.932)):
            Circle(F2_R_2)
        with Locations((43.8404, 0)):
            Circle(F2_R_3)
        with Locations((0, 177.4444)):
            Circle(F2_R_3)
        with Locations((15, 13.5123)):
            Circle(F2_R_4)
        with Locations((33.5, 30.2256)):
            Circle(F2_R_4)
        with Locations((15, 46.9389)):
            Circle(F2_R_4)
        with Locations((33.5, 63.6522)):
            Circle(F2_R_4)
        with Locations((15, 80.3655)):
            Circle(F2_R_4)
        with Locations((33.5, 97.0788)):
            Circle(F2_R_4)
        with Locations((15, 113.7921)):
            Circle(F2_R_4)
        with Locations((33.5, 130.5054)):
            Circle(F2_R_4)
        with Locations((33.5, 163.932)):
            Circle(F2_R_4)
        with Locations((15, 147.2187)):
            Circle(F2_R_4)
        Circle(F2_R_3)
        with Locations((43.8404, 177.4444)):
            Circle(F2_R_3)
    extrude(amount=-F3_DEPTH, mode=Mode.SUBTRACT)


solid = f1.part
